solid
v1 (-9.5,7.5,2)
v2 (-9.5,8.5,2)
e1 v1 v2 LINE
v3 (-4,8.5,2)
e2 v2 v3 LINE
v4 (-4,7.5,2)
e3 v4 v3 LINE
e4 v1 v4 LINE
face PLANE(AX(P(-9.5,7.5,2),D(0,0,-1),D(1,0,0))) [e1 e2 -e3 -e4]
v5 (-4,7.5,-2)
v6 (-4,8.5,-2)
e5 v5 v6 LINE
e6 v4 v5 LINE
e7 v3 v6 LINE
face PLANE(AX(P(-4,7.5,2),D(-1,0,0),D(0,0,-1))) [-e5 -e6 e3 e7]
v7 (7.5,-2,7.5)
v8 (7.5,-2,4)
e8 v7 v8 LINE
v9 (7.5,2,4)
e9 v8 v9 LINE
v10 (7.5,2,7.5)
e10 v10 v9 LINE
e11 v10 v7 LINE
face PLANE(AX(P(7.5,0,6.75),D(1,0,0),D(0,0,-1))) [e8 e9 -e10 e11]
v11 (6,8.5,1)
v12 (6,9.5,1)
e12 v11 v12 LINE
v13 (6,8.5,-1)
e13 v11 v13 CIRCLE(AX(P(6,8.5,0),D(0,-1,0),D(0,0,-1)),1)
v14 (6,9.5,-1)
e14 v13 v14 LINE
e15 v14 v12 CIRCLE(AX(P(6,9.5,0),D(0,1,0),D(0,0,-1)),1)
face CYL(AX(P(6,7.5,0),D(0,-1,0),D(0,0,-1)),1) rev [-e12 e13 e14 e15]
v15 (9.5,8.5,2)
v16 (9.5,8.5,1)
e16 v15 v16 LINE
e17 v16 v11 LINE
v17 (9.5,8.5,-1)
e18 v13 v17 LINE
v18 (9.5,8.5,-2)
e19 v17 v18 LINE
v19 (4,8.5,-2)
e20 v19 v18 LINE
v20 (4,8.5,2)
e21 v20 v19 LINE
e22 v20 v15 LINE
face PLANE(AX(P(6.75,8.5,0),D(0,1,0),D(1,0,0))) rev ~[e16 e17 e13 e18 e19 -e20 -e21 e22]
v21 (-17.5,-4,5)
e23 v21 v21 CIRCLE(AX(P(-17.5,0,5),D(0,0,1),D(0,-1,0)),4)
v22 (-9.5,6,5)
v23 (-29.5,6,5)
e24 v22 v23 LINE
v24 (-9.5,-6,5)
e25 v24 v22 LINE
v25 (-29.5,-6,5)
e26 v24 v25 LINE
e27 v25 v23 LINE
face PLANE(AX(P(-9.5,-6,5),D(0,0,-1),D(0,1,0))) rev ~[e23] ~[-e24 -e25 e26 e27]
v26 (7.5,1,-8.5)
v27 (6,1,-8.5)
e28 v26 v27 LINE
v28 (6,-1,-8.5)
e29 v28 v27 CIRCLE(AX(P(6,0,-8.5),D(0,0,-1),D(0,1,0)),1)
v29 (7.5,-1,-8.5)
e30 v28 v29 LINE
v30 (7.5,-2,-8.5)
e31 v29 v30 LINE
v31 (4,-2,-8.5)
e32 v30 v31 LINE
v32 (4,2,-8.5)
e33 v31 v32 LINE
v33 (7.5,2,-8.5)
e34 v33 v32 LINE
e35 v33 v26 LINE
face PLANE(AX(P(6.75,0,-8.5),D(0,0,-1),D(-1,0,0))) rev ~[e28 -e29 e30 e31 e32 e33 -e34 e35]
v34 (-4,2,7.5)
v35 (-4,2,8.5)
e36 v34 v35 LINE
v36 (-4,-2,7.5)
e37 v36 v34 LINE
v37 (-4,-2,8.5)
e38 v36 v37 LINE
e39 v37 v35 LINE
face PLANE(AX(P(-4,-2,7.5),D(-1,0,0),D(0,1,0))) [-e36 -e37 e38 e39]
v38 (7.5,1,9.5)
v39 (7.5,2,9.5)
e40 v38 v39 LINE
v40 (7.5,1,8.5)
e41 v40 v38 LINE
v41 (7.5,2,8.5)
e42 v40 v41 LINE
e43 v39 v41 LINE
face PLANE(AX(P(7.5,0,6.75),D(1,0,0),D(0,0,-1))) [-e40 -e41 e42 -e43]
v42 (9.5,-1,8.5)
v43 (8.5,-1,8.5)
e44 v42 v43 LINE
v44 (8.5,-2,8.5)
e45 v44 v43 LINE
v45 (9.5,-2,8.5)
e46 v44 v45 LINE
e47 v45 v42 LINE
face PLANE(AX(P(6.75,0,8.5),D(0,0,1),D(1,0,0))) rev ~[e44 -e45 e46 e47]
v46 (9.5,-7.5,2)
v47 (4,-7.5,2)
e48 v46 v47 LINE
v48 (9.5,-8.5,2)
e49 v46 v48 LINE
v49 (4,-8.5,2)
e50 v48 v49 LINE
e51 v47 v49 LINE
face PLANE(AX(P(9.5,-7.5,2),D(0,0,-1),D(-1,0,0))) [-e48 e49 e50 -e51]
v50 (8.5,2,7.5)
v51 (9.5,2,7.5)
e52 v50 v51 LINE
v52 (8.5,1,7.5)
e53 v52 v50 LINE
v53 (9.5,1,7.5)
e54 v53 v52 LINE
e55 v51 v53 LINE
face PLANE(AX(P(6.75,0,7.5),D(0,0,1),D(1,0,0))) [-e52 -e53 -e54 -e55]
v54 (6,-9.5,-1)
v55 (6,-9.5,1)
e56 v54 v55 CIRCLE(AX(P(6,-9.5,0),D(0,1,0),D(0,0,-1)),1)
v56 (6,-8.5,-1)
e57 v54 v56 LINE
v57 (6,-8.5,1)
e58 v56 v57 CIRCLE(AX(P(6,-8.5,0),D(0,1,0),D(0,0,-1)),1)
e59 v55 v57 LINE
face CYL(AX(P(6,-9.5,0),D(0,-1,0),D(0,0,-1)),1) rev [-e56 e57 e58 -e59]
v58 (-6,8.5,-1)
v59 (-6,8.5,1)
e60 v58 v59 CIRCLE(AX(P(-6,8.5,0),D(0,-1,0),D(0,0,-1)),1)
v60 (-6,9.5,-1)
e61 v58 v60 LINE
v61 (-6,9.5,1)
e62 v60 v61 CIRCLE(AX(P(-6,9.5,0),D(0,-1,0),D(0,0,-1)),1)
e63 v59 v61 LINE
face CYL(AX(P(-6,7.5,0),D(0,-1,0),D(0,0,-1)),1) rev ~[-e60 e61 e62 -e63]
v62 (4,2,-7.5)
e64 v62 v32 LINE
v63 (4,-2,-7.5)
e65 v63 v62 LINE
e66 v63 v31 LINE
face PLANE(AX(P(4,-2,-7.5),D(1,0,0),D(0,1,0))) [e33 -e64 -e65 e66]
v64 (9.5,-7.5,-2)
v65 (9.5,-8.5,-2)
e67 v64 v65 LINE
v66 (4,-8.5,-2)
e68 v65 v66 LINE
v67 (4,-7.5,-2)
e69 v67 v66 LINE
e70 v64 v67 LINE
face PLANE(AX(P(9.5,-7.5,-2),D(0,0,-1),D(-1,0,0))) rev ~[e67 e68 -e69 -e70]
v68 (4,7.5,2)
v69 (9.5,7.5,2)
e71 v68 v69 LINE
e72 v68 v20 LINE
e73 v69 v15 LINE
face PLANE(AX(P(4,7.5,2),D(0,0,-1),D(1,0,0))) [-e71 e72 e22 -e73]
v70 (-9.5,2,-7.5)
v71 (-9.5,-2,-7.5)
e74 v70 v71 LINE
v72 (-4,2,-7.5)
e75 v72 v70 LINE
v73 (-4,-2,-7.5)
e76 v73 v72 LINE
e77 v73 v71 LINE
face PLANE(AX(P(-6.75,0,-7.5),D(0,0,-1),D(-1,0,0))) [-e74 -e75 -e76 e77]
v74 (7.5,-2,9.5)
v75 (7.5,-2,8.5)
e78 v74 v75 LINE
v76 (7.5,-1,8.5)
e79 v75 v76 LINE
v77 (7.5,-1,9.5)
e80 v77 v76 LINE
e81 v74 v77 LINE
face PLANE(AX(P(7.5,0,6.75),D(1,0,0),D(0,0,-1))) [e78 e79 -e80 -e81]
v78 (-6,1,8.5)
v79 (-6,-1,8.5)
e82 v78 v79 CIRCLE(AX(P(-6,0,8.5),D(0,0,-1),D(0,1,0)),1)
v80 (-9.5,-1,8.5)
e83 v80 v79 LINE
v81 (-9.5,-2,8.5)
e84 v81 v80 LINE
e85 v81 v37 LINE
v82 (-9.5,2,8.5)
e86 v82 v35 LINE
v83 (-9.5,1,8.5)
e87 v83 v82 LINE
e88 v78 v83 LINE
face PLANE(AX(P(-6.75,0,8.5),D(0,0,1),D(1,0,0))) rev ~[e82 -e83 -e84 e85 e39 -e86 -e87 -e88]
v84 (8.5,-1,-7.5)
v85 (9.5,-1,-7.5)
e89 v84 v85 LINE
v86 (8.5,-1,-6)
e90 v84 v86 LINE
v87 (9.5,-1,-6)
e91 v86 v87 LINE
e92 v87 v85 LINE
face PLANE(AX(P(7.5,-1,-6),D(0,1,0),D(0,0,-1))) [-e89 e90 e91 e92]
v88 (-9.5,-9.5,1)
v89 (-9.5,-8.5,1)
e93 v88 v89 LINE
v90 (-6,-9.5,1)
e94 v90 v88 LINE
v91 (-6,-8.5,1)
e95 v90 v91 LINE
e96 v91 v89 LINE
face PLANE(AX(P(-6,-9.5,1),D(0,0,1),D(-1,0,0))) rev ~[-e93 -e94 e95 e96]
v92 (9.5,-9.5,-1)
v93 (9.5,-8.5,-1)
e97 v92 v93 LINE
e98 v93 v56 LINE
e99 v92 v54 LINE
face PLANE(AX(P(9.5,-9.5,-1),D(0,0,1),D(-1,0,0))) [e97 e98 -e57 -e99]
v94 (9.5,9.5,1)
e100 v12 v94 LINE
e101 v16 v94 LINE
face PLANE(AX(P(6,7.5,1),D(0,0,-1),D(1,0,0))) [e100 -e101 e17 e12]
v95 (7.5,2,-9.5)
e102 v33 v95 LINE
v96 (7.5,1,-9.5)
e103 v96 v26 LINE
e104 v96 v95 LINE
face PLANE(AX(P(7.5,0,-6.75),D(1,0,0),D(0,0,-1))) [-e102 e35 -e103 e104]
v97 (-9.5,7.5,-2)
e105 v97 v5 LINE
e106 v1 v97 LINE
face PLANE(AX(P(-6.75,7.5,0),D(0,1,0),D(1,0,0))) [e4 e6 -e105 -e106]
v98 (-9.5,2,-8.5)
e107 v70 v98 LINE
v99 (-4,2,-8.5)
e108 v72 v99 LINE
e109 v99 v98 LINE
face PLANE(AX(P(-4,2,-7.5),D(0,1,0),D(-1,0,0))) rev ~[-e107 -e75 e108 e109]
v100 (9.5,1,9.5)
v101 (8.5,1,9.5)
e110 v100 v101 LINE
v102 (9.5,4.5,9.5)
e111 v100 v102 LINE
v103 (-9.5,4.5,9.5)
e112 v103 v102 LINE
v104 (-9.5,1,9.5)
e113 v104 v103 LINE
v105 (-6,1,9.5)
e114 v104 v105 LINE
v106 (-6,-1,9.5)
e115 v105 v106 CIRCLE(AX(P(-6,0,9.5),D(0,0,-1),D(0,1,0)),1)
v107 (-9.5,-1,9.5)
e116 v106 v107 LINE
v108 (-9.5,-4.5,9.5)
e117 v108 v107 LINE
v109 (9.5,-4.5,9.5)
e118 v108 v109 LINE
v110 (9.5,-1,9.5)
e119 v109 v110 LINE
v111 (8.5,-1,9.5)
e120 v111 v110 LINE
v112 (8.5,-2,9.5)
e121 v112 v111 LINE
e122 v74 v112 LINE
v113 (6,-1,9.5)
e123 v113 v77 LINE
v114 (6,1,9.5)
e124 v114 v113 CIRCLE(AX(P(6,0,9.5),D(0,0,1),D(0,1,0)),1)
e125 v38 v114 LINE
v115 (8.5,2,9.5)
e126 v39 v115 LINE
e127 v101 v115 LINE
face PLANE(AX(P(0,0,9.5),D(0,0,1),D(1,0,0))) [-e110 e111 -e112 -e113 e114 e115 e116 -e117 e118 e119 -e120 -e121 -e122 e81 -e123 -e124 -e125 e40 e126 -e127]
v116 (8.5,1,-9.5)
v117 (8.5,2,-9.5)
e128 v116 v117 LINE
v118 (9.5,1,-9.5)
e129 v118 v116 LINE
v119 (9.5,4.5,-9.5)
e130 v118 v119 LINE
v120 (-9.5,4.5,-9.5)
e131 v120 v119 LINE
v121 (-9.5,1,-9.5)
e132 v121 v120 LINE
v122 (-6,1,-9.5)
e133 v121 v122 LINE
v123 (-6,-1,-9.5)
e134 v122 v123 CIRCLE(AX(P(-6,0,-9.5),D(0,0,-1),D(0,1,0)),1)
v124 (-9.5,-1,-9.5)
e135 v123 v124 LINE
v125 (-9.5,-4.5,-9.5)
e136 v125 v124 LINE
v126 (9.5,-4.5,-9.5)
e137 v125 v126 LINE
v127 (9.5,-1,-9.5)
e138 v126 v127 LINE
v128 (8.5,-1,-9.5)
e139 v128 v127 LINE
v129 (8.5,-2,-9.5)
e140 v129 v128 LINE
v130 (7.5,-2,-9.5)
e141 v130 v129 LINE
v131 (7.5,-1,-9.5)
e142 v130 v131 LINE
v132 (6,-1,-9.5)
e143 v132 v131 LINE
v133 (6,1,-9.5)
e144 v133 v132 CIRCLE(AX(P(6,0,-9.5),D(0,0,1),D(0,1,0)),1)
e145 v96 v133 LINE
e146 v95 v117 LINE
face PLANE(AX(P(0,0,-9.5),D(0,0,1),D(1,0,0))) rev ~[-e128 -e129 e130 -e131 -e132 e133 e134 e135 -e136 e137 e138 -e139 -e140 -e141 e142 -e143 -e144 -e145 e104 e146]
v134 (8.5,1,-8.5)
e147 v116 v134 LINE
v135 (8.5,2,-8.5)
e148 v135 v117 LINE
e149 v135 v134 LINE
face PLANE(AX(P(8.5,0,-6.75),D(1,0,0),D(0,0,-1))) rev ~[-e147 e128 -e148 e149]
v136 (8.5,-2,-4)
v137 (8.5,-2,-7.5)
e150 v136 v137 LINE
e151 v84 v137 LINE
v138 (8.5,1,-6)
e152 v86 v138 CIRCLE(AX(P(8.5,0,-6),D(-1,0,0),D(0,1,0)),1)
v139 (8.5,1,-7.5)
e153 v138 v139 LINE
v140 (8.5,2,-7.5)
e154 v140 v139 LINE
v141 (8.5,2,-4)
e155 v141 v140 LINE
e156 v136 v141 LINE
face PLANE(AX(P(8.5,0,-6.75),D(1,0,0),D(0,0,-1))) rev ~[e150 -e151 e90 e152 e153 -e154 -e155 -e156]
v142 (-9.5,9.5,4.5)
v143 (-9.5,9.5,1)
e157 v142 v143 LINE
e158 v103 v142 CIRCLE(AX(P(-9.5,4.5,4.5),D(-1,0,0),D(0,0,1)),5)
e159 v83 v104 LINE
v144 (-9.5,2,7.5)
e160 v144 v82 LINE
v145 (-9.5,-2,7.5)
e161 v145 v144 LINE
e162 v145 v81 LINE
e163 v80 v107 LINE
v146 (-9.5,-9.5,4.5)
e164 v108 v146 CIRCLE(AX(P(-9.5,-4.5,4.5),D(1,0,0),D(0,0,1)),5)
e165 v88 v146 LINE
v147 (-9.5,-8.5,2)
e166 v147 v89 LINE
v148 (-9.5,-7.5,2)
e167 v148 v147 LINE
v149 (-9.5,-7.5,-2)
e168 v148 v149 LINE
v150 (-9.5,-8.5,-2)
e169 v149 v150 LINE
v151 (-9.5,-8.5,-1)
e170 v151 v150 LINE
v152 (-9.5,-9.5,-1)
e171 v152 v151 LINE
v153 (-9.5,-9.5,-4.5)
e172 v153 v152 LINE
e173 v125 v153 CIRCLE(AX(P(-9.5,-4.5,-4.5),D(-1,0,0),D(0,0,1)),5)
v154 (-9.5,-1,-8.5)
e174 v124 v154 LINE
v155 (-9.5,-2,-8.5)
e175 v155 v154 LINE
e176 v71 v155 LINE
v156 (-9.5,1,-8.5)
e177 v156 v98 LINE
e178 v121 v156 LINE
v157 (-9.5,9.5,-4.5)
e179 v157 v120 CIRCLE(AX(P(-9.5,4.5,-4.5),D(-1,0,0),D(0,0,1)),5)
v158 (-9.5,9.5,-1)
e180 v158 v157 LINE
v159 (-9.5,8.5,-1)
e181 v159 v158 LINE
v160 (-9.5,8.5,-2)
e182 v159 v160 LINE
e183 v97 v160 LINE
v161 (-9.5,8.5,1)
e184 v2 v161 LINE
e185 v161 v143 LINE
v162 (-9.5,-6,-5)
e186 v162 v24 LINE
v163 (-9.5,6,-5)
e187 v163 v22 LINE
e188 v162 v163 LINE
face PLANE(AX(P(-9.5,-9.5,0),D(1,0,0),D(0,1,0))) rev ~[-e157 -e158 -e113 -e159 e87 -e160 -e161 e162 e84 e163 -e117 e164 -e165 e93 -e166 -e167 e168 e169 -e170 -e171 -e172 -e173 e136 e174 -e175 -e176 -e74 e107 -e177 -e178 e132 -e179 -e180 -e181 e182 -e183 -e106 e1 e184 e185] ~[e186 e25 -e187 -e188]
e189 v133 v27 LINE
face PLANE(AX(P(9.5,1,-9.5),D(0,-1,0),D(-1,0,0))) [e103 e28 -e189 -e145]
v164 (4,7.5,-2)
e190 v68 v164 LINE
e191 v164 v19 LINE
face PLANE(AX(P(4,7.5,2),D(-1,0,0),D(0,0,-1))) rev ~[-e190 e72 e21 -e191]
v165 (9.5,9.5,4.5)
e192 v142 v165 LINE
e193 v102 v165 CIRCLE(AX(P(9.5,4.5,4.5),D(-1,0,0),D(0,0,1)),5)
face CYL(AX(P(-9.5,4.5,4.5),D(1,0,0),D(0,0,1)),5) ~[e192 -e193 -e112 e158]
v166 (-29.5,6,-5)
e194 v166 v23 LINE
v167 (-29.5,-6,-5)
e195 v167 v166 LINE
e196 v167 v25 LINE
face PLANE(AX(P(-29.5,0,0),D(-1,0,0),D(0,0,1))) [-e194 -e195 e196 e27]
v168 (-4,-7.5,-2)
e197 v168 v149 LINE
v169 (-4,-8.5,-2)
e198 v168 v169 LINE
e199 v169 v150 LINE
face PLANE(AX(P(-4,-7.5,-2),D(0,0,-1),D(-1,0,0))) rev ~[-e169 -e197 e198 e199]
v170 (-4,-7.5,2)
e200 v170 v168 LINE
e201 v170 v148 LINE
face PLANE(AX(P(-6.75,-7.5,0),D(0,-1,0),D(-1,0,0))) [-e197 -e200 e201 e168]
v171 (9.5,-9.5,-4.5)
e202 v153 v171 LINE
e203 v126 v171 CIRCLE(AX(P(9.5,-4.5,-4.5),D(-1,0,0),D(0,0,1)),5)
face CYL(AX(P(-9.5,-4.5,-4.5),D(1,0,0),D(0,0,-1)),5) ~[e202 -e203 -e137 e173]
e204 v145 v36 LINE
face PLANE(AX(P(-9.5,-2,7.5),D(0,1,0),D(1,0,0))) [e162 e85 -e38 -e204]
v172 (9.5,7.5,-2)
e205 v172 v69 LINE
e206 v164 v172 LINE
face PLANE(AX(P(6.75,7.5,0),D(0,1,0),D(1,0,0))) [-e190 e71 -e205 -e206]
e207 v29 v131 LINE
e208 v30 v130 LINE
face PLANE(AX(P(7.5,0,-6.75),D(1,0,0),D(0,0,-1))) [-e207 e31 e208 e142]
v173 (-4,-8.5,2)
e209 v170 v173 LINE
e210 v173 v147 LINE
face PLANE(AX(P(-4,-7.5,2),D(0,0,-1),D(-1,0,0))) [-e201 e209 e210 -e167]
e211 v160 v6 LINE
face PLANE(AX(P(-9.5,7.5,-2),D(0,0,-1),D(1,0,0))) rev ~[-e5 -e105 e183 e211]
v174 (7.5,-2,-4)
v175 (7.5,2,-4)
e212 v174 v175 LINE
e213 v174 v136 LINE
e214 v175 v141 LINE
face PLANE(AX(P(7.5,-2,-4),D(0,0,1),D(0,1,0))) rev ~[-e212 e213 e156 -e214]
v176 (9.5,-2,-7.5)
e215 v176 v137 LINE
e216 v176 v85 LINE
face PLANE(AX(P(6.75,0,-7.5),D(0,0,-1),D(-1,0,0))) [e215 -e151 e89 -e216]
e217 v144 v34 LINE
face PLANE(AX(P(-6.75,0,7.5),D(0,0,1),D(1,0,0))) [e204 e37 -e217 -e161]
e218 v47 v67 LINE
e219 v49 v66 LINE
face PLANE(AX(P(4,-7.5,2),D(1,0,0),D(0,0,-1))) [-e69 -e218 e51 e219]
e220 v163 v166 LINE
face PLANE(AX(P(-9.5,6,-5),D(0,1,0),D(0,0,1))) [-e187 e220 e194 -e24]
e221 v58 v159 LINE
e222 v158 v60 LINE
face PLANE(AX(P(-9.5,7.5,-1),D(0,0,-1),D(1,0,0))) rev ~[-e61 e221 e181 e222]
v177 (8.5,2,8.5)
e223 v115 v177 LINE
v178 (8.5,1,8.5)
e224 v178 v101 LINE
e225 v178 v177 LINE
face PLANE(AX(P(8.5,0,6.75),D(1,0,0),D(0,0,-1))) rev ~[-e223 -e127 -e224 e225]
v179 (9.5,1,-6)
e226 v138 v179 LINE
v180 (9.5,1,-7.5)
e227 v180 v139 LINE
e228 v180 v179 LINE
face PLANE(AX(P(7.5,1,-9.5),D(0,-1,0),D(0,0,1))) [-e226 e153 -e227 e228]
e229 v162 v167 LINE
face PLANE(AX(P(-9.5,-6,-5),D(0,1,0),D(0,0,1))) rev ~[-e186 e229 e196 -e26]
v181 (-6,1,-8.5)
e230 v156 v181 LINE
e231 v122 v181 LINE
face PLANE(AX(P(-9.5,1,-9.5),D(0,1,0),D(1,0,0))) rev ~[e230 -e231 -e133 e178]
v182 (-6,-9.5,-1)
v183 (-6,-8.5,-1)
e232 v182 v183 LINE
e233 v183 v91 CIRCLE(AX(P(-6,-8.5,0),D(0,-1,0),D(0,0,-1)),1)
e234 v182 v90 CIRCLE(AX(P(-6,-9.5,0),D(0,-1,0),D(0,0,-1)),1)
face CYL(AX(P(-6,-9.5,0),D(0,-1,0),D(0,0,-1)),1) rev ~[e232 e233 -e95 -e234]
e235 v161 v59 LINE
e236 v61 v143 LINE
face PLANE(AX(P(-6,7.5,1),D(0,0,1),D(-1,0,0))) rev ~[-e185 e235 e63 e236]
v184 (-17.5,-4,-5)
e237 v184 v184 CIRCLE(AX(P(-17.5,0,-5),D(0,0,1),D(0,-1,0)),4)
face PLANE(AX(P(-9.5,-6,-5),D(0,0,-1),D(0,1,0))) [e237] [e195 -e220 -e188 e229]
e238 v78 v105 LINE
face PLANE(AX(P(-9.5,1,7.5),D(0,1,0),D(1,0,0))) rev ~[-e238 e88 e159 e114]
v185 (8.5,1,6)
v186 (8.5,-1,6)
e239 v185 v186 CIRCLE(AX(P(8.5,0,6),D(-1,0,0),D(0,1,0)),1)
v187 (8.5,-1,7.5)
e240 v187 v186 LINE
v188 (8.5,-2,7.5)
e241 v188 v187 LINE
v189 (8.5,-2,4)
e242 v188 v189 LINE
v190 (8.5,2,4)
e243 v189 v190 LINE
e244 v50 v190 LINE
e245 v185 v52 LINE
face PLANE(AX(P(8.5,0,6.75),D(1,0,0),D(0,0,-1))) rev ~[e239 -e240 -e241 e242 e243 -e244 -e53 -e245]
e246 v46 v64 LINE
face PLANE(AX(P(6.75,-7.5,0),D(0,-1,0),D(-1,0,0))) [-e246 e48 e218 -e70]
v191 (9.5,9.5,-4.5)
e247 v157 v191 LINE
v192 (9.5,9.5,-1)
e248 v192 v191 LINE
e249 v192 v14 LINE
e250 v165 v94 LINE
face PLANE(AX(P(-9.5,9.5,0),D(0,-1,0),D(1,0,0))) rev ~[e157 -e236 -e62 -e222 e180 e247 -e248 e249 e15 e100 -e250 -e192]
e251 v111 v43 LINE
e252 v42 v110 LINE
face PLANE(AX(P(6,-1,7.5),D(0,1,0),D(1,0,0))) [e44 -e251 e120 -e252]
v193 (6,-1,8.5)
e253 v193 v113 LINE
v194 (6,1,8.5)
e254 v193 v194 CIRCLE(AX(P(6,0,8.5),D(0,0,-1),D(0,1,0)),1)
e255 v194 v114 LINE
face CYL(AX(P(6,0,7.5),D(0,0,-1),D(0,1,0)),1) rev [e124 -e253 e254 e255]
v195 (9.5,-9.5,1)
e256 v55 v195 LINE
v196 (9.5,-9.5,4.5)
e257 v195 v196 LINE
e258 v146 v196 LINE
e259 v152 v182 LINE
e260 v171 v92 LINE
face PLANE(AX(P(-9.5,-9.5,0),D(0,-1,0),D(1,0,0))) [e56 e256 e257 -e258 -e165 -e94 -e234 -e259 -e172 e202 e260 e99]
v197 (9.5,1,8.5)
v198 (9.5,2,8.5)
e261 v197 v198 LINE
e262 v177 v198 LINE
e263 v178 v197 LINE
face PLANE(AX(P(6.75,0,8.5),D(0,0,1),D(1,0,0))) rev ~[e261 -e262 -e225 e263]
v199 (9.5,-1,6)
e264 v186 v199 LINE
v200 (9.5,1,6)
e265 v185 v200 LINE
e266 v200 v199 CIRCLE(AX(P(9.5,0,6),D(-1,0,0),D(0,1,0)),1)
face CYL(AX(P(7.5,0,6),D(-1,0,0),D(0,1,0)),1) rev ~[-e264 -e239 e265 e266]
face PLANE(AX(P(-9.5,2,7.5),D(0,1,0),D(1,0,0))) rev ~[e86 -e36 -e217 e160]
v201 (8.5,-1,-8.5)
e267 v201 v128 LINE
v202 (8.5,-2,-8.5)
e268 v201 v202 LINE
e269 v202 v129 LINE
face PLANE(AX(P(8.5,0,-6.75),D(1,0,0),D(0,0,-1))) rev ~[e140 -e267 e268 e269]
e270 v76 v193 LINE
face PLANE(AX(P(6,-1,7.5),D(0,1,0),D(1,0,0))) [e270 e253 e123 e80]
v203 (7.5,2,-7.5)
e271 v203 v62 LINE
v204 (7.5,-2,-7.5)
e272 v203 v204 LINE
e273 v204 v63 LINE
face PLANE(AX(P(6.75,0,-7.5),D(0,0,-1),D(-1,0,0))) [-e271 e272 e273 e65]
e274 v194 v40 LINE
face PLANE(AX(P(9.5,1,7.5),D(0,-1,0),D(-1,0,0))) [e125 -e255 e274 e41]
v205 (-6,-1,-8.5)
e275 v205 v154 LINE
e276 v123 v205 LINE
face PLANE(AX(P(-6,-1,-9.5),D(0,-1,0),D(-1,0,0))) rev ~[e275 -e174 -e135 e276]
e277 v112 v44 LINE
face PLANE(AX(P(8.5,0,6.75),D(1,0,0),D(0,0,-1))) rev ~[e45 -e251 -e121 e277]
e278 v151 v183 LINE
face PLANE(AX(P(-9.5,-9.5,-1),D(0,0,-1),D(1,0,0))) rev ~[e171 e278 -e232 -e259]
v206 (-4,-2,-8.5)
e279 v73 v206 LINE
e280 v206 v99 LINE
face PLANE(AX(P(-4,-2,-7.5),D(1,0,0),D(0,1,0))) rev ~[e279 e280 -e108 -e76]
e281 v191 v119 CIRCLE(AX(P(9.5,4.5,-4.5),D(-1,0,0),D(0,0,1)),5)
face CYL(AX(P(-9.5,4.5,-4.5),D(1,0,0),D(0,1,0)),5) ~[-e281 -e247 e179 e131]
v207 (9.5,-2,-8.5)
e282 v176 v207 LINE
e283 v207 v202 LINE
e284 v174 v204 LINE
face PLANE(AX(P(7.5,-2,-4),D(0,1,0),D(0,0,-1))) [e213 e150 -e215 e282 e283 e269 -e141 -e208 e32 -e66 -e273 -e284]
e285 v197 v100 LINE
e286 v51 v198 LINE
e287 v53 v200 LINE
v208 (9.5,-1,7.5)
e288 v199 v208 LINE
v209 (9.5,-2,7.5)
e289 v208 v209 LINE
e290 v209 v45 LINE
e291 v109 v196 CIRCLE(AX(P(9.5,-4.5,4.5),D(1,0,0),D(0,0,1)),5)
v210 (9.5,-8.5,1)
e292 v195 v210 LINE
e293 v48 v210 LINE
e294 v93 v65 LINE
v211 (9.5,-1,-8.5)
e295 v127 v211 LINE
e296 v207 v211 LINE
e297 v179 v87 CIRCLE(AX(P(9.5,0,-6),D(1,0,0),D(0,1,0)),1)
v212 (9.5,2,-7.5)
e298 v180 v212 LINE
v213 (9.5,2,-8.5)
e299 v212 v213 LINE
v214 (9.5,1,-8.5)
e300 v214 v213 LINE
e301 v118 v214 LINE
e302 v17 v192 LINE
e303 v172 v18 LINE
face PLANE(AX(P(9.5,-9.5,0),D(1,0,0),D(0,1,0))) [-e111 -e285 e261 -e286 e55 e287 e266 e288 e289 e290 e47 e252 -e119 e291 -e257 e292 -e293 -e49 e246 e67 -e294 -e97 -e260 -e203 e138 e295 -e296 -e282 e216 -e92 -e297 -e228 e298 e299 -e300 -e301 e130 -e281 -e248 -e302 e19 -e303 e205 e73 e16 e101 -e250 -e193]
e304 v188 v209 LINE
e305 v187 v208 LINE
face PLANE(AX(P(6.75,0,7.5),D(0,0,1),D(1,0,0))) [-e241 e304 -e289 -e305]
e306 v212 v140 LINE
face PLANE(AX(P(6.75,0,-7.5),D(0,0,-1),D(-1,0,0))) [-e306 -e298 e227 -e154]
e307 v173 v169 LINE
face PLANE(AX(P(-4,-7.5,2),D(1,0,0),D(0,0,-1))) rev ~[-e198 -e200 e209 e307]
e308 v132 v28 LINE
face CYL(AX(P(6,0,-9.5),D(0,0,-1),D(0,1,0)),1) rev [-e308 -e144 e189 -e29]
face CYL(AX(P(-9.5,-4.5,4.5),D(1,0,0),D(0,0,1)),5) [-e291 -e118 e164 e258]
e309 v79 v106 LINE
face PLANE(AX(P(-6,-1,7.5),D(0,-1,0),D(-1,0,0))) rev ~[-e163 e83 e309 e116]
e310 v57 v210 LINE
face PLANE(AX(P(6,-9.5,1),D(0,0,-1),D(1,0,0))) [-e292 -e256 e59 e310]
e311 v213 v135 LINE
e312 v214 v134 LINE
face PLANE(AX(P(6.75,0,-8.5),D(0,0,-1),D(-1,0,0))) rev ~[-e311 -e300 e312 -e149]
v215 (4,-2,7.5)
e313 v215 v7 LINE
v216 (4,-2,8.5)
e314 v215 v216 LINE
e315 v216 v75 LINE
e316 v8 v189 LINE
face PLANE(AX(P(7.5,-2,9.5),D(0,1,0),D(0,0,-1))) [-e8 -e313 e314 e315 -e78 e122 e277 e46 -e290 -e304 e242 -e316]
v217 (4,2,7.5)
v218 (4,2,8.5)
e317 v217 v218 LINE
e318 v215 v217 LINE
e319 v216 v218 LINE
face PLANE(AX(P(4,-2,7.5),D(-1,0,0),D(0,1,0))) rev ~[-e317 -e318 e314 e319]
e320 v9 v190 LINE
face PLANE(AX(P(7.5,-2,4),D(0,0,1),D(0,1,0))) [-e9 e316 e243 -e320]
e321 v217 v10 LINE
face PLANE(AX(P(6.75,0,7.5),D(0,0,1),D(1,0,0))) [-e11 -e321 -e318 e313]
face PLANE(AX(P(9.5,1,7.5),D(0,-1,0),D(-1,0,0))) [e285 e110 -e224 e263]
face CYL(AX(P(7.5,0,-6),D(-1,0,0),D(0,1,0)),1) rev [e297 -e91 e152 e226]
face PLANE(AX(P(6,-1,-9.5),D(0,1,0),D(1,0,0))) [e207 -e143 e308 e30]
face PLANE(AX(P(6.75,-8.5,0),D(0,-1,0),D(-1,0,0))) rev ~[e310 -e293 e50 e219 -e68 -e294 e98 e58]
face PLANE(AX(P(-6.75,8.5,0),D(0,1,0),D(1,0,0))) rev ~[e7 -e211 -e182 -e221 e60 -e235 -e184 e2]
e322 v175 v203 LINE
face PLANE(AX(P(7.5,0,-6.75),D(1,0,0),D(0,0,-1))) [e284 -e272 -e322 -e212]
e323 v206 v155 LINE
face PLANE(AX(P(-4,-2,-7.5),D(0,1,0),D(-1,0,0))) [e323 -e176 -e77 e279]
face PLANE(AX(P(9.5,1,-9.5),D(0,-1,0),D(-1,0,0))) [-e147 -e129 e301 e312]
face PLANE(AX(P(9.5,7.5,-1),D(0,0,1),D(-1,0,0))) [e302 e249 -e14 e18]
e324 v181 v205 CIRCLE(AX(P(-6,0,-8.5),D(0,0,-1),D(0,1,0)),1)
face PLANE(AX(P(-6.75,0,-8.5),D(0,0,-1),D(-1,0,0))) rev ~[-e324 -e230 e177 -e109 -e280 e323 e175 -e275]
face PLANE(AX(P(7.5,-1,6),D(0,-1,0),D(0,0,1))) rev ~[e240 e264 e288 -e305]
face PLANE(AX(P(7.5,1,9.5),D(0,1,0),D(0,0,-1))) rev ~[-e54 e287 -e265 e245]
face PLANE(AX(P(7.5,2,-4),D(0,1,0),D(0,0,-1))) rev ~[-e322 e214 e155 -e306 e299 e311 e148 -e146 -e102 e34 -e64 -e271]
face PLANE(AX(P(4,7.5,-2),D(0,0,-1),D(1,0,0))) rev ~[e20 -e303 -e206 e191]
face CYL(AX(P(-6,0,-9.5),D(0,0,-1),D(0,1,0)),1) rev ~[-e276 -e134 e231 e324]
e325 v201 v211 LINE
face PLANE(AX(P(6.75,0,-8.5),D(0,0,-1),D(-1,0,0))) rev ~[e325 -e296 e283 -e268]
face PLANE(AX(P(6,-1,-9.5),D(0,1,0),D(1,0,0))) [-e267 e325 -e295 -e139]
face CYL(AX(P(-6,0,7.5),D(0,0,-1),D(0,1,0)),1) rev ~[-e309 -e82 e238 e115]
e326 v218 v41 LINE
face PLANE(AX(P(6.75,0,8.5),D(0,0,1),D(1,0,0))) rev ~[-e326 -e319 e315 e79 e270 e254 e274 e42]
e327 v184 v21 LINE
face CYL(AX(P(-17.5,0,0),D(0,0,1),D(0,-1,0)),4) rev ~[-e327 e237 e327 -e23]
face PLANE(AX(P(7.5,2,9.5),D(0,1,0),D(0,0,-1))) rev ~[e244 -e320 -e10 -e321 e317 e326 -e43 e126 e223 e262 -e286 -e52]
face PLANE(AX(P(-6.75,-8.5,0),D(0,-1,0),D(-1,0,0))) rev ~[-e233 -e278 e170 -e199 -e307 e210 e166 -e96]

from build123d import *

# Parameters (mm, degrees)
SKETCH_2_W           = 19
SKETCH_2_H           = 19
EXTRUDE_1_DEPTH      = 9.5
FILLET_1_R           = 5
FILLET_2_R           = 5
SKETCH_7_W           = 5.5
SKETCH_7_H           = 4
CUT_EXTRUDE_5_DEPTH  = 1
CUT_EXTRUDE_6_DEPTH  = 1
SKETCH_13_W          = 5.5
SKETCH_13_H          = 4
CUT_EXTRUDE_10_DEPTH = 1
SKETCH_14_W          = 5.5
SKETCH_14_H          = 4
CUT_EXTRUDE_11_DEPTH = 1
SKETCH_15_W          = 5.5
SKETCH_15_H          = 4
CUT_EXTRUDE_12_DEPTH = 1
CUT_EXTRUDE_13_DEPTH = 2
CUT_EXTRUDE_14_DEPTH = 2
CUT_EXTRUDE_START    = 2
CUT_EXTRUDE_15_DEPTH = 2
SKETCH_23_W          = 5.5
SKETCH_23_H          = 4
CUT_EXTRUDE_16_DEPTH = 1
CUT_EXTRUDE_17_DEPTH = 2
SKETCH_27_W          = 10
SKETCH_27_H          = 12
EXTRUDE_2_DEPTH      = 20
SKETCH_28_R          = 4
CUT_EXTRUDE_20_DEPTH = 10


with BuildPart() as part:
    # 草图2 → 凸台-拉伸1 (new, symmetric)
    with BuildSketch(Plane.XY):
        Rectangle(SKETCH_2_W, SKETCH_2_H)
    extrude(amount=EXTRUDE_1_DEPTH, both=True)

    # 圆角1
    fillet_1_edges = [part.edges().sort_by_distance(p)[0] for p in [
        (0, 9.5, 9.5),
    ]]
    fillet(fillet_1_edges, radius=FILLET_1_R)

    # 圆角2
    fillet_2_edges = [part.edges().sort_by_distance(p)[0] for p in [
        (0, -9.5, 9.5),
        (0, -9.5, -9.5),
        (0, 9.5, -9.5),
    ]]
    fillet(fillet_2_edges, radius=FILLET_2_R)

    # 草图7 → 切除-拉伸5 (cut)
    with BuildSketch(Plane(origin=(0, -7.5, 0), x_dir=(-1, 0, 0), z_dir=(0, -1, 0))):
        with Locations((-6.75, 0)):
            Rectangle(SKETCH_7_W, SKETCH_7_H)
        with Locations((6.75, 0)):
            Rectangle(SKETCH_7_W, SKETCH_7_H)
    extrude(amount=CUT_EXTRUDE_5_DEPTH, mode=Mode.SUBTRACT)

    # 草图9 → 切除-拉伸6 (cut)
    with BuildSketch(Plane.XZ.offset(9.5)):
        with BuildLine():
            Line((6, 1), (9.5, 1))
            Line((9.5, 1), (9.5, -1))
            Line((9.5, -1), (6, -1))
            ThreePointArc((6, -1), (5, 0), (6, 1))
        make_face()
        with BuildLine():
            Line((-9.5, 1), (-9.5, -1))
            Line((-9.5, -1), (-6, -1))
            ThreePointArc((-6, -1), (-5, 0), (-6, 1))
            Line((-6, 1), (-9.5, 1))
        make_face()
    extrude(amount=-CUT_EXTRUDE_6_DEPTH, mode=Mode.SUBTRACT)

    # 草图13 → 切除-拉伸10 (cut)
    with BuildSketch(Plane.XY.offset(7.5)):
        with Locations((-6.75, 0)):
            Rectangle(SKETCH_13_W, SKETCH_13_H)
        with Locations((6.75, 0)):
            Rectangle(SKETCH_13_W, SKETCH_13_H)
    extrude(amount=CUT_EXTRUDE_10_DEPTH, mode=Mode.SUBTRACT)

    # 草图14 → 切除-拉伸11 (cut)
    with BuildSketch(Plane(origin=(0, 7.5, 0), x_dir=(1, 0, 0), z_dir=(0, 1, 0))):
        with Locations((-6.75, 0)):
            Rectangle(SKETCH_14_W, SKETCH_14_H)
        with Locations((6.75, 0)):
            Rectangle(SKETCH_14_W, SKETCH_14_H)
    extrude(amount=CUT_EXTRUDE_11_DEPTH, mode=Mode.SUBTRACT)

    # 草图15 → 切除-拉伸12 (cut)
    with BuildSketch(Plane(origin=(0, 0, -7.5), x_dir=(-1, 0, 0), z_dir=(0, 0, -1))):
        with Locations((-6.75, 0)):
            Rectangle(SKETCH_15_W, SKETCH_15_H)
        with Locations((6.75, 0)):
            Rectangle(SKETCH_15_W, SKETCH_15_H)
    extrude(amount=CUT_EXTRUDE_12_DEPTH, mode=Mode.SUBTRACT)

    # 草图20 → 切除-拉伸13 (cut)
    with BuildSketch(Plane(origin=(0, 0, 7.5), x_dir=(-1, 0, 0), z_dir=(0, 0, 1))):
        with BuildLine():
            Line((6, 1), (9.5, 1))
            Line((9.5, 1), (9.5, -1))
            Line((9.5, -1), (6, -1))
            ThreePointArc((6, -1), (5, 0), (6, 1))
        make_face()
        with BuildLine():
            Line((-9.5, 1), (-9.5, -1))
            Line((-9.5, -1), (-6, -1))
            ThreePointArc((-6, -1), (-5, 0), (-6, 1))
            Line((-6, 1), (-9.5, 1))
        make_face()
    extrude(amount=CUT_EXTRUDE_13_DEPTH, mode=Mode.SUBTRACT)

    # 草图21 → 切除-拉伸14 (cut)
    with BuildSketch(Plane(origin=(0, 7.5, 0), x_dir=(-1, 0, 0), z_dir=(0, 1, 0))):
        with BuildLine():
            Line((6, 1), (9.5, 1))
            Line((9.5, 1), (9.5, -1))
            Line((9.5, -1), (6, -1))
            ThreePointArc((6, -1), (5, 0), (6, 1))
        make_face()
        with BuildLine():
            Line((-9.5, 1), (-9.5, -1))
            Line((-9.5, -1), (-6, -1))
            ThreePointArc((-6, -1), (-5, 0), (-6, 1))
            Line((-6, 1), (-9.5, 1))
        make_face()
    extrude(amount=CUT_EXTRUDE_14_DEPTH, mode=Mode.SUBTRACT)

    # 草图22 → 切除-拉伸15 (cut)
    with BuildSketch(Plane(origin=(0, 0, -7.5), x_dir=(1, 0, 0), z_dir=(0, 0, -1)).offset(CUT_EXTRUDE_START)):
        with BuildLine():
            Line((6, 1), (9.5, 1))
            Line((9.5, 1), (9.5, -1))
            Line((9.5, -1), (6, -1))
            ThreePointArc((6, -1), (5, 0), (6, 1))
        make_face()
        with BuildLine():
            Line((-9.5, 1), (-9.5, -1))
            Line((-9.5, -1), (-6, -1))
            ThreePointArc((-6, -1), (-5, 0), (-6, 1))
            Line((-6, 1), (-9.5, 1))
        make_face()
    extrude(amount=-CUT_EXTRUDE_15_DEPTH, mode=Mode.SUBTRACT)

    # 草图23 → 切除-拉伸16 (cut)
    with BuildSketch(Plane(origin=(7.5, 0, 0), x_dir=(0, 0, -1), z_dir=(1, 0, 0))):
        with Locations((-6.75, 0)):
            Rectangle(SKETCH_23_W, SKETCH_23_H)
        with Locations((6.75, 0)):
            Rectangle(SKETCH_23_W, SKETCH_23_H)
    extrude(amount=CUT_EXTRUDE_16_DEPTH, mode=Mode.SUBTRACT)

    # 草图24 → 切除-拉伸17 (cut)
    with BuildSketch(Plane(origin=(7.5, 0, 0), x_dir=(0, 0, 1), z_dir=(1, 0, 0))):
        with BuildLine():
            Line((6, 1), (9.5, 1))
            Line((9.5, 1), (9.5, -1))
            Line((9.5, -1), (6, -1))
            ThreePointArc((6, -1), (5, 0), (6, 1))
        make_face()
        with BuildLine():
            Line((-9.5, 1), (-9.5, -1))
            Line((-9.5, -1), (-6, -1))
            ThreePointArc((-6, -1), (-5, 0), (-6, 1))
            Line((-6, 1), (-9.5, 1))
        make_face()
    extrude(amount=CUT_EXTRUDE_17_DEPTH, mode=Mode.SUBTRACT)

    # 草图27 → 凸台-拉伸2 (add)
    with BuildSketch(Plane.ZY.offset(9.5)):
        Rectangle(SKETCH_27_W, SKETCH_27_H)
    extrude(amount=EXTRUDE_2_DEPTH)

    # 草图28 → 切除-拉伸20 (cut, symmetric)
    with BuildSketch(Plane.XY):
        with Locations(Location((-17.5, 0, 0), (0, 0, 270))):
            Circle(SKETCH_28_R)
    extrude(amount=CUT_EXTRUDE_20_DEPTH, both=True, mode=Mode.SUBTRACT)


solid = part.part
